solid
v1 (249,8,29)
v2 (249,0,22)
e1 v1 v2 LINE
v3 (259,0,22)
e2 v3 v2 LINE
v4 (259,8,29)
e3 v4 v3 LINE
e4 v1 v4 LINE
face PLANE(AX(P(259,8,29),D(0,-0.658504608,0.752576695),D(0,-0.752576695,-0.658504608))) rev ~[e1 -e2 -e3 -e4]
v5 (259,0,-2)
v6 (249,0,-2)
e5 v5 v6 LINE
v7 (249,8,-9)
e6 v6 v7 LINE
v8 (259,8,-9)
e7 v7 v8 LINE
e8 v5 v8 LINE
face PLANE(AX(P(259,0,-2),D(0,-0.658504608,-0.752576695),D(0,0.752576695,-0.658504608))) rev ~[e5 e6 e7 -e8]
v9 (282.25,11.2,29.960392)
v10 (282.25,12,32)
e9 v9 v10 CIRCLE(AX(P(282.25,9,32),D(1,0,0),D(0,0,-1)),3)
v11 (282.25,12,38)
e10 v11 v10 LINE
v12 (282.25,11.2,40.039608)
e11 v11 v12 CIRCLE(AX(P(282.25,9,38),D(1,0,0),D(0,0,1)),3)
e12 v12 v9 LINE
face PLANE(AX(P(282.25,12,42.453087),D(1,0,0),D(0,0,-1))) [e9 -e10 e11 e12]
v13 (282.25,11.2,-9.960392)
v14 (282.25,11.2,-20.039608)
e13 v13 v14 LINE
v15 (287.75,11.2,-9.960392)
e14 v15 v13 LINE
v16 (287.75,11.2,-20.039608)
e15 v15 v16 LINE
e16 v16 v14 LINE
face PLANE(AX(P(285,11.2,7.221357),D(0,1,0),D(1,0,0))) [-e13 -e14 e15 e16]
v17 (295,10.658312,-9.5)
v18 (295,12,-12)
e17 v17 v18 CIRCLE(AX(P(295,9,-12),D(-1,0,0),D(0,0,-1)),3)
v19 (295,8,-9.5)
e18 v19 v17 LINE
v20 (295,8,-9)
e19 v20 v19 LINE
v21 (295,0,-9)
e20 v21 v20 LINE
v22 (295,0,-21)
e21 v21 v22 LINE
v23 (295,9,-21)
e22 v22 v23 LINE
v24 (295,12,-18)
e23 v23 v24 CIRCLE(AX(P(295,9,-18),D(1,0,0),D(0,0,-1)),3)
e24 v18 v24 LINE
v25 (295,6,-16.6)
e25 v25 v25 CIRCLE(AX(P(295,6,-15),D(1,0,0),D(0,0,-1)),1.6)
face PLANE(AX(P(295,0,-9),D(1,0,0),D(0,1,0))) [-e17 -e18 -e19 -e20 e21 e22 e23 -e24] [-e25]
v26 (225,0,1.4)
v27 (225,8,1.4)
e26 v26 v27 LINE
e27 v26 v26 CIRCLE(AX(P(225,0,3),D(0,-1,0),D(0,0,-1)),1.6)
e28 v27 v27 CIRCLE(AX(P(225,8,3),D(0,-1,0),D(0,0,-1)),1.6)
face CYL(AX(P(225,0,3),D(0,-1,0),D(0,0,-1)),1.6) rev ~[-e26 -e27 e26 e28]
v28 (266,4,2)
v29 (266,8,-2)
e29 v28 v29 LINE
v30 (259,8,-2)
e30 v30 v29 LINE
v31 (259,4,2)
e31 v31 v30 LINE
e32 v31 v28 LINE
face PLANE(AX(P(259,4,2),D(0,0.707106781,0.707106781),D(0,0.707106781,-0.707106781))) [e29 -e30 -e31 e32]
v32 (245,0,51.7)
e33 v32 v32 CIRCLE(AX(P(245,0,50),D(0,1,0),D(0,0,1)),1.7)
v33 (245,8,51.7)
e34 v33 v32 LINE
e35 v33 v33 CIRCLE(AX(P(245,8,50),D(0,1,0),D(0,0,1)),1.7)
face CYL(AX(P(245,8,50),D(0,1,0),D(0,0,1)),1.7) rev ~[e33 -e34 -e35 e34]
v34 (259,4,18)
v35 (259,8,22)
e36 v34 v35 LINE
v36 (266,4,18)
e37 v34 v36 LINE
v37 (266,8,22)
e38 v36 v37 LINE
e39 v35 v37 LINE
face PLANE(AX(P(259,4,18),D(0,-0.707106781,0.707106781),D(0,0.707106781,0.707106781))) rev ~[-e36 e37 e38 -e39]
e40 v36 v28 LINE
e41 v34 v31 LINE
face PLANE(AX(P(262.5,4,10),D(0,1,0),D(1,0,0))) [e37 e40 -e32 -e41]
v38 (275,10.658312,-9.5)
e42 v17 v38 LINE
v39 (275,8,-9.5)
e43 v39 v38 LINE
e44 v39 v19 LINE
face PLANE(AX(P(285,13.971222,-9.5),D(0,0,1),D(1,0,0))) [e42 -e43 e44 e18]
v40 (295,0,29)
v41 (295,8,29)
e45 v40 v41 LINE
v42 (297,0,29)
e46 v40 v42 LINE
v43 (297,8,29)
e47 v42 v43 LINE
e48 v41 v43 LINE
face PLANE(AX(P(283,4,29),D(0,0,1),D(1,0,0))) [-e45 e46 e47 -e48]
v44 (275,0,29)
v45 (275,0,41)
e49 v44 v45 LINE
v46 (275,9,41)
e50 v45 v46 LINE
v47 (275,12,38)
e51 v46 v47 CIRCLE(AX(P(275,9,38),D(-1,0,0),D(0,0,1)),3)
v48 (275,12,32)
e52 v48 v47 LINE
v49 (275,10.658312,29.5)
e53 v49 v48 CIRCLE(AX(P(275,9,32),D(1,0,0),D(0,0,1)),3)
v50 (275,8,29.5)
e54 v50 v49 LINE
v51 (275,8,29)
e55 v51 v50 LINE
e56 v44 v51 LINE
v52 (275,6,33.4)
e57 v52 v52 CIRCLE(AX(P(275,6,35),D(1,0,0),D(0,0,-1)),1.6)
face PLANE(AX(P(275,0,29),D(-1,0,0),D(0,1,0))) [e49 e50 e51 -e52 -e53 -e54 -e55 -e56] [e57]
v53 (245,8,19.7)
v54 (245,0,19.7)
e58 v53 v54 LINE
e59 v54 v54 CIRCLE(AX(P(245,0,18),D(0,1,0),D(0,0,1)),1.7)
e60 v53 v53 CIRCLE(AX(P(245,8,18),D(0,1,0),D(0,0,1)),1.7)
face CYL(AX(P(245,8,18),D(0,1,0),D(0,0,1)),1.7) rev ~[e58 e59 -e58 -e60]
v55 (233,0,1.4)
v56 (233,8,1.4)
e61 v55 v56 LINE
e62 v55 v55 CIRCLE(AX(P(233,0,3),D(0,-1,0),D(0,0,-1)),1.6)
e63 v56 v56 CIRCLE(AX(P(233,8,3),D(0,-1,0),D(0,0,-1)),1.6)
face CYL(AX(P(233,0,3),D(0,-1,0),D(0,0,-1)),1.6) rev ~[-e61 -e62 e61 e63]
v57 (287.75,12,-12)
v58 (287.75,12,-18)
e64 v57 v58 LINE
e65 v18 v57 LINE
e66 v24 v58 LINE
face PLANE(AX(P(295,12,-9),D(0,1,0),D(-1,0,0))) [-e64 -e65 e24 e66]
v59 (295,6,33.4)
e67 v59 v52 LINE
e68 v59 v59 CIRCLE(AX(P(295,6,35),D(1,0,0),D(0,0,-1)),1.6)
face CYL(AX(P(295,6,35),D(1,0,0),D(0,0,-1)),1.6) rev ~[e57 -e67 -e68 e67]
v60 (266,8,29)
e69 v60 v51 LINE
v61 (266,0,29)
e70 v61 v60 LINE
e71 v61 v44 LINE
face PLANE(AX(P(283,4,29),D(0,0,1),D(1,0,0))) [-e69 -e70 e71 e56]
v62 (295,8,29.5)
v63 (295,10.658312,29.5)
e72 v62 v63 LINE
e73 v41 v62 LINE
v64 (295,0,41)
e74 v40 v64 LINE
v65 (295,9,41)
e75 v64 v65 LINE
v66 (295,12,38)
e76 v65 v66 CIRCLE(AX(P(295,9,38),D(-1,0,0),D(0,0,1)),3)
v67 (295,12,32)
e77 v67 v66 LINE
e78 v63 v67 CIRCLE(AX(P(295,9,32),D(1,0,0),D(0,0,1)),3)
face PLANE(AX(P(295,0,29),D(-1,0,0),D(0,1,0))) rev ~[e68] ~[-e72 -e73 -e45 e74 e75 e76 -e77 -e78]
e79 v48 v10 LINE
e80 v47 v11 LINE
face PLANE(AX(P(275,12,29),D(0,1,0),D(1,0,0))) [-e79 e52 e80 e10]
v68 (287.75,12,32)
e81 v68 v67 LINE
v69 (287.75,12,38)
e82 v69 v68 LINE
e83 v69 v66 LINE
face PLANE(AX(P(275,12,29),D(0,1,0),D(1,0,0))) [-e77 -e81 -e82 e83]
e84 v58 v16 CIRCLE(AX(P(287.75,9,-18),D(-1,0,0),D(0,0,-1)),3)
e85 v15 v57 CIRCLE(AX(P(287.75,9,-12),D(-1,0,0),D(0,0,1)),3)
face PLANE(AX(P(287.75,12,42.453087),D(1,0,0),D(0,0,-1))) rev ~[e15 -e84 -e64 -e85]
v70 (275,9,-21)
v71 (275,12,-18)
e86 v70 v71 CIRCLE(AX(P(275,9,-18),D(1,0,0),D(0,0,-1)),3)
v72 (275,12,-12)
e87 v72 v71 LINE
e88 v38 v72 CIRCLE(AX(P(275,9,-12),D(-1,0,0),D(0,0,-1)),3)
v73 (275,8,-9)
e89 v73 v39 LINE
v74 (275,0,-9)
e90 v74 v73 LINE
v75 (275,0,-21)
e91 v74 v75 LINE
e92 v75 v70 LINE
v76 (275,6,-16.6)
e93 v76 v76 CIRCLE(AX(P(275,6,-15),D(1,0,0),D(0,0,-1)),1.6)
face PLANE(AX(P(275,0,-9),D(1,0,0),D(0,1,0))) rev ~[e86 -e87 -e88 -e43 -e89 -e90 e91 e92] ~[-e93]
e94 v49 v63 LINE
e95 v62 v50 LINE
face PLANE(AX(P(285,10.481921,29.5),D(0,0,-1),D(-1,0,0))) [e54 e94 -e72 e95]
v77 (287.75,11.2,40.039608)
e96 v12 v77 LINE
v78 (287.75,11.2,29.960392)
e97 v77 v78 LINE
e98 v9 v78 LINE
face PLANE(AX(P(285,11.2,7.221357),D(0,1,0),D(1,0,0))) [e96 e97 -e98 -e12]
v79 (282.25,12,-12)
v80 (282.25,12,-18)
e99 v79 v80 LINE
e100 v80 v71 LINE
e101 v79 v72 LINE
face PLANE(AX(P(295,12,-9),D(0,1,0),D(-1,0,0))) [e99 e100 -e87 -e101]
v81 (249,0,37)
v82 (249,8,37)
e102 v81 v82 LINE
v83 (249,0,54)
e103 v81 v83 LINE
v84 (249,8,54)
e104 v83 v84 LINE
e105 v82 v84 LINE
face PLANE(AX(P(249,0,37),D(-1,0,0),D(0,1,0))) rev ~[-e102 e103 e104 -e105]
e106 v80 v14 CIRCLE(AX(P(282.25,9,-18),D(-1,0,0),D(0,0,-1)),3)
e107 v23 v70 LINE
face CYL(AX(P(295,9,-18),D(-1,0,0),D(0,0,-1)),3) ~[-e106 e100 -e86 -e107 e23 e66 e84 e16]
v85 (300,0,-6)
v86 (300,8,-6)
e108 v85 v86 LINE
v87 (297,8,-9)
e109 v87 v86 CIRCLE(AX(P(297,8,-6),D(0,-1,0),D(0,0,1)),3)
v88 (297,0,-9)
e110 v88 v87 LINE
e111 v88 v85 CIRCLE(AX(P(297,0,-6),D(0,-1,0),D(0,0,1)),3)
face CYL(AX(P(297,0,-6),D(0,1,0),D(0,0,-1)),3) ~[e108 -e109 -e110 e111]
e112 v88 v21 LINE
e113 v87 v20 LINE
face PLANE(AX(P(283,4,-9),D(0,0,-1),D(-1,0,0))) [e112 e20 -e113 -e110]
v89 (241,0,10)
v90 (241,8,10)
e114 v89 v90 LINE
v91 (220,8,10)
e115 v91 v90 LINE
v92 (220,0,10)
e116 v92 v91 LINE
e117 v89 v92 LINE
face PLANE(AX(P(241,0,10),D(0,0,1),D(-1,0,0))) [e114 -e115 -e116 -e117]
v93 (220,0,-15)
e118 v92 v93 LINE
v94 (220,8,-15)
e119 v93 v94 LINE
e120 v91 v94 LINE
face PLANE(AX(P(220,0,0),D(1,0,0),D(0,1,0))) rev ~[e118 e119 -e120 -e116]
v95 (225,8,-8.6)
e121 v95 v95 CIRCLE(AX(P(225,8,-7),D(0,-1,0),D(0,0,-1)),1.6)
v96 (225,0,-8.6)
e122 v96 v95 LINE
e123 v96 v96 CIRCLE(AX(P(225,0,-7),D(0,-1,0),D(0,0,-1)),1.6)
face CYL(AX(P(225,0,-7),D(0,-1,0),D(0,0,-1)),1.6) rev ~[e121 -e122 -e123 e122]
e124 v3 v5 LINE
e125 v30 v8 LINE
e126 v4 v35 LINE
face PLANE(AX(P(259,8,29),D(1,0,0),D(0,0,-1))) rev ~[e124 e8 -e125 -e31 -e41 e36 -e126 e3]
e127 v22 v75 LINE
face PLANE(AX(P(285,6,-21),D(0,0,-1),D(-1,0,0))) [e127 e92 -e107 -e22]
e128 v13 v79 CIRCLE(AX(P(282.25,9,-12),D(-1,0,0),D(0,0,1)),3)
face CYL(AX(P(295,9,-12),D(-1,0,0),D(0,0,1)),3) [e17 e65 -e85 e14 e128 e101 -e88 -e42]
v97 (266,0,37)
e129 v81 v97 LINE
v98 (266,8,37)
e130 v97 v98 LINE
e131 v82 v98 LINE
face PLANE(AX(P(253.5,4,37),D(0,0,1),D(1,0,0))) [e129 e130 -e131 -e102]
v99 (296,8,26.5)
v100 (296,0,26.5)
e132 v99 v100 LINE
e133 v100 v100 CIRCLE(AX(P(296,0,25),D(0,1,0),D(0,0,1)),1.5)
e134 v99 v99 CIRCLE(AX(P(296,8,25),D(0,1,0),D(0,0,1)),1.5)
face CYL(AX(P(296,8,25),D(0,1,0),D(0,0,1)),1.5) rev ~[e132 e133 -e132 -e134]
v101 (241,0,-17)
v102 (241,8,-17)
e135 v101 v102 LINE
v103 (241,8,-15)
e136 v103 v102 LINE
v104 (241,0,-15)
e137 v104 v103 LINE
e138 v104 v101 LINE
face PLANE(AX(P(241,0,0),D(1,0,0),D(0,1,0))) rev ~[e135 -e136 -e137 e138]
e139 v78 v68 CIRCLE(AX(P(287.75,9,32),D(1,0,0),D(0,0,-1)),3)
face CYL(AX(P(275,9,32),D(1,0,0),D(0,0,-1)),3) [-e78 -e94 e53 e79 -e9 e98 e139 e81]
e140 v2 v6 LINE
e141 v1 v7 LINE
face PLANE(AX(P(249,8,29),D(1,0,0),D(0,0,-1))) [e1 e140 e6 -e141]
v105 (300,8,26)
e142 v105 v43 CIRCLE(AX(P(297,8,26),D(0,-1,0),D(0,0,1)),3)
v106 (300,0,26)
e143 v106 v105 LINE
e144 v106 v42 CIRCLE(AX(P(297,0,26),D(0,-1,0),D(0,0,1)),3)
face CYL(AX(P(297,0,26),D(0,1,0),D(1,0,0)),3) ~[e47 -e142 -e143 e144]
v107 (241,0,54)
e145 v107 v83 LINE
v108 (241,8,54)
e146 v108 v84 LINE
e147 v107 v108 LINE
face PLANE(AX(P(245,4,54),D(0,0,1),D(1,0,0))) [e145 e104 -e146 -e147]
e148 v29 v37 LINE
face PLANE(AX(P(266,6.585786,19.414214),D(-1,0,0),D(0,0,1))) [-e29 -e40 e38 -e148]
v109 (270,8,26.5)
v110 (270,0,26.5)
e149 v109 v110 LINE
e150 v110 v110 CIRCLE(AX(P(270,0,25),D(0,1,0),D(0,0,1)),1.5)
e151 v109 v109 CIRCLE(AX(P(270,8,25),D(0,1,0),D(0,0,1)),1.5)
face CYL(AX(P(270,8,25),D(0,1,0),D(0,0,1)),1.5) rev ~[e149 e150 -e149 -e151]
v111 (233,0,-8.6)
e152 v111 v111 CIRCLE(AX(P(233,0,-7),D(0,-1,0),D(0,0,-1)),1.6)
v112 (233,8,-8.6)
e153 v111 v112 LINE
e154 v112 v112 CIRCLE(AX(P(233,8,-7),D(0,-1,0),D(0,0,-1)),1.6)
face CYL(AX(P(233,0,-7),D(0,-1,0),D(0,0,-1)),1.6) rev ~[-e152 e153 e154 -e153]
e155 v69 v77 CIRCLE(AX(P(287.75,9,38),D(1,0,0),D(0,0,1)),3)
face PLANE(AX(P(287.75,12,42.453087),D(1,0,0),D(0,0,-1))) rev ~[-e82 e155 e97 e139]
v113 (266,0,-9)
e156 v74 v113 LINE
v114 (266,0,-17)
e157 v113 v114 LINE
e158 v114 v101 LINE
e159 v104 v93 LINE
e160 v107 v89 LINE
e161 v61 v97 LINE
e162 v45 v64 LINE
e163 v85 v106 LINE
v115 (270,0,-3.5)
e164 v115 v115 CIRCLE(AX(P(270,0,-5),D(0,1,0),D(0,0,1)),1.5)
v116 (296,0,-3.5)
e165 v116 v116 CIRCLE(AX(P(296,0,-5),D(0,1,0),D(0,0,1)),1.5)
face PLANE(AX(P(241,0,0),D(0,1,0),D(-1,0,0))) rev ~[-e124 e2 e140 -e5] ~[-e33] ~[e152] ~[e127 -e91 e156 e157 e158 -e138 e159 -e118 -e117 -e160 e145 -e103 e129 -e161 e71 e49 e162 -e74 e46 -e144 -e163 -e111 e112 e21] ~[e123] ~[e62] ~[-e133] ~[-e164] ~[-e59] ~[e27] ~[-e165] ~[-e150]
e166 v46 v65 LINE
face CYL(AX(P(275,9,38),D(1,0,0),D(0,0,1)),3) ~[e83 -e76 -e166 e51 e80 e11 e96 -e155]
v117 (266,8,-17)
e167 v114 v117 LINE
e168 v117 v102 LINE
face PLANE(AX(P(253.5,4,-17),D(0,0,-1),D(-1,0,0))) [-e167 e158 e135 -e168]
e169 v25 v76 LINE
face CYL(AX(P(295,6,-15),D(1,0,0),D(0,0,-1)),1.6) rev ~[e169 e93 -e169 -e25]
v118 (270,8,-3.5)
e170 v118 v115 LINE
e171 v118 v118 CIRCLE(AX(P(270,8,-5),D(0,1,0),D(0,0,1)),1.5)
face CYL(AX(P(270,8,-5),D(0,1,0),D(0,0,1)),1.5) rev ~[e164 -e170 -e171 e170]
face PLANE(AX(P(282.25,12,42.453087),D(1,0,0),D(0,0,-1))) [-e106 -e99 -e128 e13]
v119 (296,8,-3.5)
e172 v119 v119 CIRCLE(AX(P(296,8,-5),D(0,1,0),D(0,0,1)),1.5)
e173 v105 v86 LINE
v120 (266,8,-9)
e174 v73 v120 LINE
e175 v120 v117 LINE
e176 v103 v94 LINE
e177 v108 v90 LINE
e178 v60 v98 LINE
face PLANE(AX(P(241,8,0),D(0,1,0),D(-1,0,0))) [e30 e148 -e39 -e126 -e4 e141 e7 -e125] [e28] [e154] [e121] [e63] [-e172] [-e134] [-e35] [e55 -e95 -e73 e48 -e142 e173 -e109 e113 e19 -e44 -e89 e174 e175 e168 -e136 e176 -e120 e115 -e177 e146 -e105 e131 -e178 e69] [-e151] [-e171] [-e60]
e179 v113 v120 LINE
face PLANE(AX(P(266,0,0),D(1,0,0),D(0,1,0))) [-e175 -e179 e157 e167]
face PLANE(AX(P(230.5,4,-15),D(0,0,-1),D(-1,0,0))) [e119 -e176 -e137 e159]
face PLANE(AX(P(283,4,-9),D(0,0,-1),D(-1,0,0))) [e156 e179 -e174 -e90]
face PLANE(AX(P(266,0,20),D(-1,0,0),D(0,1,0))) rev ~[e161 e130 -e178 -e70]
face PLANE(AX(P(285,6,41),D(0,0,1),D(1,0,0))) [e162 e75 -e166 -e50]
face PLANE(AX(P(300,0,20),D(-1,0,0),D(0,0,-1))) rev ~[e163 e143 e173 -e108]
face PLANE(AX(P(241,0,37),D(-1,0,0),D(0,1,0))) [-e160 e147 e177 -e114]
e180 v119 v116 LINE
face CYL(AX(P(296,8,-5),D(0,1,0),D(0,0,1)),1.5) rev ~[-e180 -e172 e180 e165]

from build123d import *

# Parameters (mm, degrees)
SKETCH1_W            = 300
SKETCH1_H            = 20
BOSS_EXTRUDE1_DEPTH  = 8
SKETCH2_W            = 34
SKETCH2_H            = 8
BOSS_EXTRUDE2_DEPTH  = 9
SKETCH3_W            = 34
SKETCH3_H            = 8
BOSS_EXTRUDE3_DEPTH  = 9
SKETCH4_R            = 1.5
CUT_EXTRUDE1_DEPTH   = 302.504560496
SKETCH5_W            = 25
SKETCH5_H            = 8
BOSS_EXTRUDE4_DEPTH  = 17
SKETCH6_W            = 25
SKETCH6_H            = 8
BOSS_EXTRUDE5_DEPTH  = 17
SKETCH7_W            = 10
SKETCH7_H            = 38
CUT_EXTRUDE2_DEPTH   = 303.37890138
SKETCH8_W            = 7
SKETCH8_H            = 16
CUT_EXTRUDE3_DEPTH   = 4
CUT_EXTRUDE4_DEPTH   = 7
BOSS_EXTRUDE6_DEPTH  = 10
SKETCH12_W           = 8
SKETCH12_H           = 8
BOSS_EXTRUDE7_DEPTH  = 17
SKETCH13_R           = 1.7
CUT_EXTRUDE6_DEPTH   = 305.926220585
SKETCH14_W           = 20
SKETCH14_H           = 12
BOSS_EXTRUDE8_DEPTH  = 12
SKETCH15_R           = 1.6
CUT_EXTRUDE7_DEPTH   = 20
SKETCH16_W           = 20
SKETCH16_H           = 12
BOSS_EXTRUDE9_DEPTH  = 12
SKETCH17_R           = 1.6
CUT_EXTRUDE8_DEPTH   = 20
SKETCH18_W           = 20
SKETCH18_H           = 13
BOSS_EXTRUDE10_DEPTH = 12
SKETCH19_R           = 1.6
CUT_EXTRUDE9_DEPTH   = 20
SKETCH20_W           = 20
SKETCH20_H           = 13
BOSS_EXTRUDE11_DEPTH = 12
SKETCH21_R           = 1.6
CUT_EXTRUDE10_DEPTH  = 20
FILLET6_R            = 3
SKETCH28_W           = 198.881436238
SKETCH28_H           = 556.355103816
CUT_EXTRUDE14_DEPTH  = 220
SKETCH29_W           = 21
SKETCH29_H           = 8
BOSS_EXTRUDE12_DEPTH = 15
SKETCH30_W           = 21
SKETCH30_H           = 10
CUT_EXTRUDE15_DEPTH  = 306.057371653
SKETCH31_R           = 1.6
CUT_EXTRUDE16_DEPTH  = 306.057371653
FILLET7_R            = 3
SKETCH32_W           = 5.5
SKETCH32_H           = 70.463459777
CUT_EXTRUDE17_DEPTH  = 0.8
SKETCH33_W           = 20
SKETCH33_H           = 4.963841857
CUT_EXTRUDE18_DEPTH  = 0.5
SKETCH34_W           = 20
SKETCH34_H           = 11.942443484
CUT_EXTRUDE19_DEPTH  = 0.5


with BuildPart() as part:
    # Sketch1 → Boss-Extrude1 (new body)
    with BuildSketch(Plane(origin=(0, 0, 0), x_dir=(1, 0, 0), z_dir=(0, 1, 0))):
        with Locations((150, -10)):
            Rectangle(SKETCH1_W, SKETCH1_H)
    extrude(amount=BOSS_EXTRUDE1_DEPTH)

    # Sketch2 → Boss-Extrude2 (add)
    with BuildSketch(Plane.XY.offset(20)):
        with Locations((17, 4)):
            Rectangle(SKETCH2_W, SKETCH2_H)
        with Locations((283, 4)):
            Rectangle(SKETCH2_W, SKETCH2_H)
    extrude(amount=BOSS_EXTRUDE2_DEPTH)

    # Sketch3 → Boss-Extrude3 (add)
    with BuildSketch(Plane(origin=(0, 0, 0), x_dir=(-1, 0, 0), z_dir=(0, 0, -1))):
        with Locations((-17, 4)):
            Rectangle(SKETCH3_W, SKETCH3_H)
        with Locations((-283, 4)):
            Rectangle(SKETCH3_W, SKETCH3_H)
    extrude(amount=BOSS_EXTRUDE3_DEPTH)

    # Sketch4 → Cut-Extrude1 (cut, through all)
    with BuildSketch(Plane(origin=(0, 8, 0), x_dir=(1, 0, 0), z_dir=(0, 1, 0))):
        with Locations(Location((4, 5, 0), (0, 0, 270))):
            Circle(SKETCH4_R)
        with Locations(Location((30, 5, 0), (0, 0, 270))):
            Circle(SKETCH4_R)
        with Locations(Location((30, -25, 0), (0, 0, 270))):
            Circle(SKETCH4_R)
        with Locations(Location((4, -25, 0), (0, 0, 270))):
            Circle(SKETCH4_R)
        with Locations(Location((296, -25, 0), (0, 0, 270))):
            Circle(SKETCH4_R)
        with Locations(Location((296, 5, 0), (0, 0, 270))):
            Circle(SKETCH4_R)
        with Locations(Location((270, -25, 0), (0, 0, 270))):
            Circle(SKETCH4_R)
        with Locations(Location((270, 5, 0), (0, 0, 270))):
            Circle(SKETCH4_R)
    extrude(amount=-CUT_EXTRUDE1_DEPTH, mode=Mode.SUBTRACT)

    # Sketch5 → Boss-Extrude4 (add)
    with BuildSketch(Plane.XY.offset(20)):
        with Locations((253.5, 4)):
            Rectangle(SKETCH5_W, SKETCH5_H)
    extrude(amount=BOSS_EXTRUDE4_DEPTH)

    # Sketch6 → Boss-Extrude5 (add)
    with BuildSketch(Plane(origin=(0, 0, 0), x_dir=(-1, 0, 0), z_dir=(0, 0, -1))):
        with Locations((-253.5, 4)):
            Rectangle(SKETCH6_W, SKETCH6_H)
    extrude(amount=BOSS_EXTRUDE5_DEPTH)

    # Sketch7 → Cut-Extrude2 (cut, through all)
    with BuildSketch(Plane(origin=(0, 8, 0), x_dir=(1, 0, 0), z_dir=(0, 1, 0))):
        with Locations((254, -10)):
            Rectangle(SKETCH7_W, SKETCH7_H)
    extrude(amount=-CUT_EXTRUDE2_DEPTH, mode=Mode.SUBTRACT)

    # Sketch8 → Cut-Extrude3 (cut)
    with BuildSketch(Plane(origin=(0, 8, 0), x_dir=(1, 0, 0), z_dir=(0, 1, 0))):
        with Locations((262.5, -10)):
            Rectangle(SKETCH8_W, SKETCH8_H)
    extrude(amount=-CUT_EXTRUDE3_DEPTH, mode=Mode.SUBTRACT)

    # Sketch9 → Cut-Extrude4 (cut)
    with BuildSketch(Plane.ZY.offset(-259)):
        Polygon((18, 4), (22, 8), (18, 8), align=None)
        Polygon((2, 4), (-2, 8), (2, 8), align=None)
    extrude(amount=-CUT_EXTRUDE4_DEPTH, mode=Mode.SUBTRACT)

    # Sketch10 → Boss-Extrude6 (add)
    with BuildSketch(Plane.ZY.offset(-259)):
        Polygon((-2, 0), (-9, 8), (-9, 0), align=None)
        Polygon((29, 8), (22, 0), (29, 0), align=None)
    extrude(amount=BOSS_EXTRUDE6_DEPTH)

    # Sketch12 → Boss-Extrude7 (add)
    with BuildSketch(Plane.XY.offset(37)):
        with Locations((245, 4)):
            Rectangle(SKETCH12_W, SKETCH12_H)
    extrude(amount=BOSS_EXTRUDE7_DEPTH)

    # Sketch13 → Cut-Extrude6 (cut, through all)
    with BuildSketch(Plane(origin=(0, 8, 0), x_dir=(1, 0, 0), z_dir=(0, 1, 0))):
        with Locations(Location((245, -50, 0), (0, 0, 270))):
            Circle(SKETCH13_R)
        with Locations(Location((245, -18, 0), (0, 0, 270))):
            Circle(SKETCH13_R)
    extrude(amount=-CUT_EXTRUDE6_DEPTH, mode=Mode.SUBTRACT)

    # Sketch14 → Boss-Extrude8 (add)
    with BuildSketch(Plane.XY.offset(29)):
        with Locations((285, 6)):
            Rectangle(SKETCH14_W, SKETCH14_H)
    extrude(amount=BOSS_EXTRUDE8_DEPTH)

    # Sketch15 → Cut-Extrude7 (cut)
    with BuildSketch(Plane(origin=(295, 0, 0), x_dir=(0, 0, -1), z_dir=(1, 0, 0))):
        with Locations((-35, 6)):
            Circle(SKETCH15_R)
    extrude(amount=-CUT_EXTRUDE7_DEPTH, mode=Mode.SUBTRACT)

    # Sketch16 → Boss-Extrude9 (add)
    with BuildSketch(Plane(origin=(0, 0, -9), x_dir=(-1, 0, 0), z_dir=(0, 0, -1))):
        with Locations((-285, 6)):
            Rectangle(SKETCH16_W, SKETCH16_H)
    extrude(amount=BOSS_EXTRUDE9_DEPTH)

    # Sketch17 → Cut-Extrude8 (cut)
    with BuildSketch(Plane(origin=(295, 0, 0), x_dir=(0, 0, -1), z_dir=(1, 0, 0))):
        with Locations((15, 6)):
            Circle(SKETCH17_R)
    extrude(amount=-CUT_EXTRUDE8_DEPTH, mode=Mode.SUBTRACT)

    # Sketch18 → Boss-Extrude10 (add)
    with BuildSketch(Plane(origin=(0, 0, -9), x_dir=(-1, 0, 0), z_dir=(0, 0, -1))):
        with Locations((-15, 6.5)):
            Rectangle(SKETCH18_W, SKETCH18_H)
    extrude(amount=BOSS_EXTRUDE10_DEPTH)

    # Sketch19 → Cut-Extrude9 (cut)
    with BuildSketch(Plane.ZY.offset(-5)):
        with Locations((-15, 8)):
            Circle(SKETCH19_R)
    extrude(amount=-CUT_EXTRUDE9_DEPTH, mode=Mode.SUBTRACT)

    # Sketch20 → Boss-Extrude11 (add)
    with BuildSketch(Plane.XY.offset(29)):
        with Locations((15, 6.5)):
            Rectangle(SKETCH20_W, SKETCH20_H)
    extrude(amount=BOSS_EXTRUDE11_DEPTH)

    # Sketch21 → Cut-Extrude10 (cut)
    with BuildSketch(Plane.ZY.offset(-5)):
        with Locations((35, 8)):
            Circle(SKETCH21_R)
    extrude(amount=-CUT_EXTRUDE10_DEPTH, mode=Mode.SUBTRACT)

    # Fillet6
    fillet6_edges = [part.edges().sort_by_distance(p)[0] for p in [
        (285, 12, 29),
        (285, 12, 41),
        (285, 12, -9),
        (285, 12, -21),
        (15, 13, -9),
        (15, 13, -21),
        (15, 13, 29),
        (15, 13, 41),
    ]]
    fillet(fillet6_edges, radius=FILLET6_R)

    # Sketch28 → Cut-Extrude14 (cut)
    with BuildSketch(Plane.ZY):
        with Locations((-20.495432896, -60.484201615)):
            Rectangle(SKETCH28_W, SKETCH28_H)
    extrude(amount=-CUT_EXTRUDE14_DEPTH, mode=Mode.SUBTRACT)

    # Sketch29 → Boss-Extrude12 (add)
    with BuildSketch(Plane(origin=(0, 0, 0), x_dir=(-1, 0, 0), z_dir=(0, 0, -1))):
        with Locations((-230.5, 4)):
            Rectangle(SKETCH29_W, SKETCH29_H)
    extrude(amount=BOSS_EXTRUDE12_DEPTH)

    # Sketch30 → Cut-Extrude15 (cut, through all)
    with BuildSketch(Plane(origin=(0, 0, 0), x_dir=(-1, 0, 0), z_dir=(0, -1, 0))):
        with Locations((-230.5, -15)):
            Rectangle(SKETCH30_W, SKETCH30_H)
    extrude(amount=-CUT_EXTRUDE15_DEPTH, mode=Mode.SUBTRACT)

    # Sketch31 → Cut-Extrude16 (cut, through all)
    with BuildSketch(Plane(origin=(0, 0, 0), x_dir=(-1, 0, 0), z_dir=(0, -1, 0))):
        with Locations(Location((-225, 7, 0), (0, 0, 90))):
            Circle(SKETCH31_R)
        with Locations(Location((-225, -3, 0), (0, 0, 90))):
            Circle(SKETCH31_R)
        with Locations(Location((-233, 7, 0), (0, 0, 90))):
            Circle(SKETCH31_R)
        with Locations(Location((-233, -3, 0), (0, 0, 90))):
            Circle(SKETCH31_R)
    extrude(amount=-CUT_EXTRUDE16_DEPTH, mode=Mode.SUBTRACT)

    # Fillet7
    fillet7_edges = [part.edges().sort_by_distance(p)[0] for p in [
        (300, 4, 29),
        (300, 4, -9),
    ]]
    fillet(fillet7_edges, radius=FILLET7_R)

    # Sketch32 → Cut-Extrude17 (cut)
    with BuildSketch(Plane(origin=(0, 12, 0), x_dir=(1, 0, 0), z_dir=(0, 1, 0))):
        with Locations((285, -7.2213573)):
            Rectangle(SKETCH32_W, SKETCH32_H)
    extrude(amount=-CUT_EXTRUDE17_DEPTH, mode=Mode.SUBTRACT)

    # Sketch33 → Cut-Extrude18 (cut)
    with BuildSketch(Plane(origin=(0, 0, 29), x_dir=(-1, 0, 0), z_dir=(0, 0, -1))):
        with Locations((-285, 10.481920928)):
            Rectangle(SKETCH33_W, SKETCH33_H)
    extrude(amount=-CUT_EXTRUDE18_DEPTH, mode=Mode.SUBTRACT)

    # Sketch34 → Cut-Extrude19 (cut)
    with BuildSketch(Plane.XY.offset(-9)):
        with Locations((285, 13.971221742)):
            Rectangle(SKETCH34_W, SKETCH34_H)
    extrude(amount=-CUT_EXTRUDE19_DEPTH, mode=Mode.SUBTRACT)


solid = part.part
